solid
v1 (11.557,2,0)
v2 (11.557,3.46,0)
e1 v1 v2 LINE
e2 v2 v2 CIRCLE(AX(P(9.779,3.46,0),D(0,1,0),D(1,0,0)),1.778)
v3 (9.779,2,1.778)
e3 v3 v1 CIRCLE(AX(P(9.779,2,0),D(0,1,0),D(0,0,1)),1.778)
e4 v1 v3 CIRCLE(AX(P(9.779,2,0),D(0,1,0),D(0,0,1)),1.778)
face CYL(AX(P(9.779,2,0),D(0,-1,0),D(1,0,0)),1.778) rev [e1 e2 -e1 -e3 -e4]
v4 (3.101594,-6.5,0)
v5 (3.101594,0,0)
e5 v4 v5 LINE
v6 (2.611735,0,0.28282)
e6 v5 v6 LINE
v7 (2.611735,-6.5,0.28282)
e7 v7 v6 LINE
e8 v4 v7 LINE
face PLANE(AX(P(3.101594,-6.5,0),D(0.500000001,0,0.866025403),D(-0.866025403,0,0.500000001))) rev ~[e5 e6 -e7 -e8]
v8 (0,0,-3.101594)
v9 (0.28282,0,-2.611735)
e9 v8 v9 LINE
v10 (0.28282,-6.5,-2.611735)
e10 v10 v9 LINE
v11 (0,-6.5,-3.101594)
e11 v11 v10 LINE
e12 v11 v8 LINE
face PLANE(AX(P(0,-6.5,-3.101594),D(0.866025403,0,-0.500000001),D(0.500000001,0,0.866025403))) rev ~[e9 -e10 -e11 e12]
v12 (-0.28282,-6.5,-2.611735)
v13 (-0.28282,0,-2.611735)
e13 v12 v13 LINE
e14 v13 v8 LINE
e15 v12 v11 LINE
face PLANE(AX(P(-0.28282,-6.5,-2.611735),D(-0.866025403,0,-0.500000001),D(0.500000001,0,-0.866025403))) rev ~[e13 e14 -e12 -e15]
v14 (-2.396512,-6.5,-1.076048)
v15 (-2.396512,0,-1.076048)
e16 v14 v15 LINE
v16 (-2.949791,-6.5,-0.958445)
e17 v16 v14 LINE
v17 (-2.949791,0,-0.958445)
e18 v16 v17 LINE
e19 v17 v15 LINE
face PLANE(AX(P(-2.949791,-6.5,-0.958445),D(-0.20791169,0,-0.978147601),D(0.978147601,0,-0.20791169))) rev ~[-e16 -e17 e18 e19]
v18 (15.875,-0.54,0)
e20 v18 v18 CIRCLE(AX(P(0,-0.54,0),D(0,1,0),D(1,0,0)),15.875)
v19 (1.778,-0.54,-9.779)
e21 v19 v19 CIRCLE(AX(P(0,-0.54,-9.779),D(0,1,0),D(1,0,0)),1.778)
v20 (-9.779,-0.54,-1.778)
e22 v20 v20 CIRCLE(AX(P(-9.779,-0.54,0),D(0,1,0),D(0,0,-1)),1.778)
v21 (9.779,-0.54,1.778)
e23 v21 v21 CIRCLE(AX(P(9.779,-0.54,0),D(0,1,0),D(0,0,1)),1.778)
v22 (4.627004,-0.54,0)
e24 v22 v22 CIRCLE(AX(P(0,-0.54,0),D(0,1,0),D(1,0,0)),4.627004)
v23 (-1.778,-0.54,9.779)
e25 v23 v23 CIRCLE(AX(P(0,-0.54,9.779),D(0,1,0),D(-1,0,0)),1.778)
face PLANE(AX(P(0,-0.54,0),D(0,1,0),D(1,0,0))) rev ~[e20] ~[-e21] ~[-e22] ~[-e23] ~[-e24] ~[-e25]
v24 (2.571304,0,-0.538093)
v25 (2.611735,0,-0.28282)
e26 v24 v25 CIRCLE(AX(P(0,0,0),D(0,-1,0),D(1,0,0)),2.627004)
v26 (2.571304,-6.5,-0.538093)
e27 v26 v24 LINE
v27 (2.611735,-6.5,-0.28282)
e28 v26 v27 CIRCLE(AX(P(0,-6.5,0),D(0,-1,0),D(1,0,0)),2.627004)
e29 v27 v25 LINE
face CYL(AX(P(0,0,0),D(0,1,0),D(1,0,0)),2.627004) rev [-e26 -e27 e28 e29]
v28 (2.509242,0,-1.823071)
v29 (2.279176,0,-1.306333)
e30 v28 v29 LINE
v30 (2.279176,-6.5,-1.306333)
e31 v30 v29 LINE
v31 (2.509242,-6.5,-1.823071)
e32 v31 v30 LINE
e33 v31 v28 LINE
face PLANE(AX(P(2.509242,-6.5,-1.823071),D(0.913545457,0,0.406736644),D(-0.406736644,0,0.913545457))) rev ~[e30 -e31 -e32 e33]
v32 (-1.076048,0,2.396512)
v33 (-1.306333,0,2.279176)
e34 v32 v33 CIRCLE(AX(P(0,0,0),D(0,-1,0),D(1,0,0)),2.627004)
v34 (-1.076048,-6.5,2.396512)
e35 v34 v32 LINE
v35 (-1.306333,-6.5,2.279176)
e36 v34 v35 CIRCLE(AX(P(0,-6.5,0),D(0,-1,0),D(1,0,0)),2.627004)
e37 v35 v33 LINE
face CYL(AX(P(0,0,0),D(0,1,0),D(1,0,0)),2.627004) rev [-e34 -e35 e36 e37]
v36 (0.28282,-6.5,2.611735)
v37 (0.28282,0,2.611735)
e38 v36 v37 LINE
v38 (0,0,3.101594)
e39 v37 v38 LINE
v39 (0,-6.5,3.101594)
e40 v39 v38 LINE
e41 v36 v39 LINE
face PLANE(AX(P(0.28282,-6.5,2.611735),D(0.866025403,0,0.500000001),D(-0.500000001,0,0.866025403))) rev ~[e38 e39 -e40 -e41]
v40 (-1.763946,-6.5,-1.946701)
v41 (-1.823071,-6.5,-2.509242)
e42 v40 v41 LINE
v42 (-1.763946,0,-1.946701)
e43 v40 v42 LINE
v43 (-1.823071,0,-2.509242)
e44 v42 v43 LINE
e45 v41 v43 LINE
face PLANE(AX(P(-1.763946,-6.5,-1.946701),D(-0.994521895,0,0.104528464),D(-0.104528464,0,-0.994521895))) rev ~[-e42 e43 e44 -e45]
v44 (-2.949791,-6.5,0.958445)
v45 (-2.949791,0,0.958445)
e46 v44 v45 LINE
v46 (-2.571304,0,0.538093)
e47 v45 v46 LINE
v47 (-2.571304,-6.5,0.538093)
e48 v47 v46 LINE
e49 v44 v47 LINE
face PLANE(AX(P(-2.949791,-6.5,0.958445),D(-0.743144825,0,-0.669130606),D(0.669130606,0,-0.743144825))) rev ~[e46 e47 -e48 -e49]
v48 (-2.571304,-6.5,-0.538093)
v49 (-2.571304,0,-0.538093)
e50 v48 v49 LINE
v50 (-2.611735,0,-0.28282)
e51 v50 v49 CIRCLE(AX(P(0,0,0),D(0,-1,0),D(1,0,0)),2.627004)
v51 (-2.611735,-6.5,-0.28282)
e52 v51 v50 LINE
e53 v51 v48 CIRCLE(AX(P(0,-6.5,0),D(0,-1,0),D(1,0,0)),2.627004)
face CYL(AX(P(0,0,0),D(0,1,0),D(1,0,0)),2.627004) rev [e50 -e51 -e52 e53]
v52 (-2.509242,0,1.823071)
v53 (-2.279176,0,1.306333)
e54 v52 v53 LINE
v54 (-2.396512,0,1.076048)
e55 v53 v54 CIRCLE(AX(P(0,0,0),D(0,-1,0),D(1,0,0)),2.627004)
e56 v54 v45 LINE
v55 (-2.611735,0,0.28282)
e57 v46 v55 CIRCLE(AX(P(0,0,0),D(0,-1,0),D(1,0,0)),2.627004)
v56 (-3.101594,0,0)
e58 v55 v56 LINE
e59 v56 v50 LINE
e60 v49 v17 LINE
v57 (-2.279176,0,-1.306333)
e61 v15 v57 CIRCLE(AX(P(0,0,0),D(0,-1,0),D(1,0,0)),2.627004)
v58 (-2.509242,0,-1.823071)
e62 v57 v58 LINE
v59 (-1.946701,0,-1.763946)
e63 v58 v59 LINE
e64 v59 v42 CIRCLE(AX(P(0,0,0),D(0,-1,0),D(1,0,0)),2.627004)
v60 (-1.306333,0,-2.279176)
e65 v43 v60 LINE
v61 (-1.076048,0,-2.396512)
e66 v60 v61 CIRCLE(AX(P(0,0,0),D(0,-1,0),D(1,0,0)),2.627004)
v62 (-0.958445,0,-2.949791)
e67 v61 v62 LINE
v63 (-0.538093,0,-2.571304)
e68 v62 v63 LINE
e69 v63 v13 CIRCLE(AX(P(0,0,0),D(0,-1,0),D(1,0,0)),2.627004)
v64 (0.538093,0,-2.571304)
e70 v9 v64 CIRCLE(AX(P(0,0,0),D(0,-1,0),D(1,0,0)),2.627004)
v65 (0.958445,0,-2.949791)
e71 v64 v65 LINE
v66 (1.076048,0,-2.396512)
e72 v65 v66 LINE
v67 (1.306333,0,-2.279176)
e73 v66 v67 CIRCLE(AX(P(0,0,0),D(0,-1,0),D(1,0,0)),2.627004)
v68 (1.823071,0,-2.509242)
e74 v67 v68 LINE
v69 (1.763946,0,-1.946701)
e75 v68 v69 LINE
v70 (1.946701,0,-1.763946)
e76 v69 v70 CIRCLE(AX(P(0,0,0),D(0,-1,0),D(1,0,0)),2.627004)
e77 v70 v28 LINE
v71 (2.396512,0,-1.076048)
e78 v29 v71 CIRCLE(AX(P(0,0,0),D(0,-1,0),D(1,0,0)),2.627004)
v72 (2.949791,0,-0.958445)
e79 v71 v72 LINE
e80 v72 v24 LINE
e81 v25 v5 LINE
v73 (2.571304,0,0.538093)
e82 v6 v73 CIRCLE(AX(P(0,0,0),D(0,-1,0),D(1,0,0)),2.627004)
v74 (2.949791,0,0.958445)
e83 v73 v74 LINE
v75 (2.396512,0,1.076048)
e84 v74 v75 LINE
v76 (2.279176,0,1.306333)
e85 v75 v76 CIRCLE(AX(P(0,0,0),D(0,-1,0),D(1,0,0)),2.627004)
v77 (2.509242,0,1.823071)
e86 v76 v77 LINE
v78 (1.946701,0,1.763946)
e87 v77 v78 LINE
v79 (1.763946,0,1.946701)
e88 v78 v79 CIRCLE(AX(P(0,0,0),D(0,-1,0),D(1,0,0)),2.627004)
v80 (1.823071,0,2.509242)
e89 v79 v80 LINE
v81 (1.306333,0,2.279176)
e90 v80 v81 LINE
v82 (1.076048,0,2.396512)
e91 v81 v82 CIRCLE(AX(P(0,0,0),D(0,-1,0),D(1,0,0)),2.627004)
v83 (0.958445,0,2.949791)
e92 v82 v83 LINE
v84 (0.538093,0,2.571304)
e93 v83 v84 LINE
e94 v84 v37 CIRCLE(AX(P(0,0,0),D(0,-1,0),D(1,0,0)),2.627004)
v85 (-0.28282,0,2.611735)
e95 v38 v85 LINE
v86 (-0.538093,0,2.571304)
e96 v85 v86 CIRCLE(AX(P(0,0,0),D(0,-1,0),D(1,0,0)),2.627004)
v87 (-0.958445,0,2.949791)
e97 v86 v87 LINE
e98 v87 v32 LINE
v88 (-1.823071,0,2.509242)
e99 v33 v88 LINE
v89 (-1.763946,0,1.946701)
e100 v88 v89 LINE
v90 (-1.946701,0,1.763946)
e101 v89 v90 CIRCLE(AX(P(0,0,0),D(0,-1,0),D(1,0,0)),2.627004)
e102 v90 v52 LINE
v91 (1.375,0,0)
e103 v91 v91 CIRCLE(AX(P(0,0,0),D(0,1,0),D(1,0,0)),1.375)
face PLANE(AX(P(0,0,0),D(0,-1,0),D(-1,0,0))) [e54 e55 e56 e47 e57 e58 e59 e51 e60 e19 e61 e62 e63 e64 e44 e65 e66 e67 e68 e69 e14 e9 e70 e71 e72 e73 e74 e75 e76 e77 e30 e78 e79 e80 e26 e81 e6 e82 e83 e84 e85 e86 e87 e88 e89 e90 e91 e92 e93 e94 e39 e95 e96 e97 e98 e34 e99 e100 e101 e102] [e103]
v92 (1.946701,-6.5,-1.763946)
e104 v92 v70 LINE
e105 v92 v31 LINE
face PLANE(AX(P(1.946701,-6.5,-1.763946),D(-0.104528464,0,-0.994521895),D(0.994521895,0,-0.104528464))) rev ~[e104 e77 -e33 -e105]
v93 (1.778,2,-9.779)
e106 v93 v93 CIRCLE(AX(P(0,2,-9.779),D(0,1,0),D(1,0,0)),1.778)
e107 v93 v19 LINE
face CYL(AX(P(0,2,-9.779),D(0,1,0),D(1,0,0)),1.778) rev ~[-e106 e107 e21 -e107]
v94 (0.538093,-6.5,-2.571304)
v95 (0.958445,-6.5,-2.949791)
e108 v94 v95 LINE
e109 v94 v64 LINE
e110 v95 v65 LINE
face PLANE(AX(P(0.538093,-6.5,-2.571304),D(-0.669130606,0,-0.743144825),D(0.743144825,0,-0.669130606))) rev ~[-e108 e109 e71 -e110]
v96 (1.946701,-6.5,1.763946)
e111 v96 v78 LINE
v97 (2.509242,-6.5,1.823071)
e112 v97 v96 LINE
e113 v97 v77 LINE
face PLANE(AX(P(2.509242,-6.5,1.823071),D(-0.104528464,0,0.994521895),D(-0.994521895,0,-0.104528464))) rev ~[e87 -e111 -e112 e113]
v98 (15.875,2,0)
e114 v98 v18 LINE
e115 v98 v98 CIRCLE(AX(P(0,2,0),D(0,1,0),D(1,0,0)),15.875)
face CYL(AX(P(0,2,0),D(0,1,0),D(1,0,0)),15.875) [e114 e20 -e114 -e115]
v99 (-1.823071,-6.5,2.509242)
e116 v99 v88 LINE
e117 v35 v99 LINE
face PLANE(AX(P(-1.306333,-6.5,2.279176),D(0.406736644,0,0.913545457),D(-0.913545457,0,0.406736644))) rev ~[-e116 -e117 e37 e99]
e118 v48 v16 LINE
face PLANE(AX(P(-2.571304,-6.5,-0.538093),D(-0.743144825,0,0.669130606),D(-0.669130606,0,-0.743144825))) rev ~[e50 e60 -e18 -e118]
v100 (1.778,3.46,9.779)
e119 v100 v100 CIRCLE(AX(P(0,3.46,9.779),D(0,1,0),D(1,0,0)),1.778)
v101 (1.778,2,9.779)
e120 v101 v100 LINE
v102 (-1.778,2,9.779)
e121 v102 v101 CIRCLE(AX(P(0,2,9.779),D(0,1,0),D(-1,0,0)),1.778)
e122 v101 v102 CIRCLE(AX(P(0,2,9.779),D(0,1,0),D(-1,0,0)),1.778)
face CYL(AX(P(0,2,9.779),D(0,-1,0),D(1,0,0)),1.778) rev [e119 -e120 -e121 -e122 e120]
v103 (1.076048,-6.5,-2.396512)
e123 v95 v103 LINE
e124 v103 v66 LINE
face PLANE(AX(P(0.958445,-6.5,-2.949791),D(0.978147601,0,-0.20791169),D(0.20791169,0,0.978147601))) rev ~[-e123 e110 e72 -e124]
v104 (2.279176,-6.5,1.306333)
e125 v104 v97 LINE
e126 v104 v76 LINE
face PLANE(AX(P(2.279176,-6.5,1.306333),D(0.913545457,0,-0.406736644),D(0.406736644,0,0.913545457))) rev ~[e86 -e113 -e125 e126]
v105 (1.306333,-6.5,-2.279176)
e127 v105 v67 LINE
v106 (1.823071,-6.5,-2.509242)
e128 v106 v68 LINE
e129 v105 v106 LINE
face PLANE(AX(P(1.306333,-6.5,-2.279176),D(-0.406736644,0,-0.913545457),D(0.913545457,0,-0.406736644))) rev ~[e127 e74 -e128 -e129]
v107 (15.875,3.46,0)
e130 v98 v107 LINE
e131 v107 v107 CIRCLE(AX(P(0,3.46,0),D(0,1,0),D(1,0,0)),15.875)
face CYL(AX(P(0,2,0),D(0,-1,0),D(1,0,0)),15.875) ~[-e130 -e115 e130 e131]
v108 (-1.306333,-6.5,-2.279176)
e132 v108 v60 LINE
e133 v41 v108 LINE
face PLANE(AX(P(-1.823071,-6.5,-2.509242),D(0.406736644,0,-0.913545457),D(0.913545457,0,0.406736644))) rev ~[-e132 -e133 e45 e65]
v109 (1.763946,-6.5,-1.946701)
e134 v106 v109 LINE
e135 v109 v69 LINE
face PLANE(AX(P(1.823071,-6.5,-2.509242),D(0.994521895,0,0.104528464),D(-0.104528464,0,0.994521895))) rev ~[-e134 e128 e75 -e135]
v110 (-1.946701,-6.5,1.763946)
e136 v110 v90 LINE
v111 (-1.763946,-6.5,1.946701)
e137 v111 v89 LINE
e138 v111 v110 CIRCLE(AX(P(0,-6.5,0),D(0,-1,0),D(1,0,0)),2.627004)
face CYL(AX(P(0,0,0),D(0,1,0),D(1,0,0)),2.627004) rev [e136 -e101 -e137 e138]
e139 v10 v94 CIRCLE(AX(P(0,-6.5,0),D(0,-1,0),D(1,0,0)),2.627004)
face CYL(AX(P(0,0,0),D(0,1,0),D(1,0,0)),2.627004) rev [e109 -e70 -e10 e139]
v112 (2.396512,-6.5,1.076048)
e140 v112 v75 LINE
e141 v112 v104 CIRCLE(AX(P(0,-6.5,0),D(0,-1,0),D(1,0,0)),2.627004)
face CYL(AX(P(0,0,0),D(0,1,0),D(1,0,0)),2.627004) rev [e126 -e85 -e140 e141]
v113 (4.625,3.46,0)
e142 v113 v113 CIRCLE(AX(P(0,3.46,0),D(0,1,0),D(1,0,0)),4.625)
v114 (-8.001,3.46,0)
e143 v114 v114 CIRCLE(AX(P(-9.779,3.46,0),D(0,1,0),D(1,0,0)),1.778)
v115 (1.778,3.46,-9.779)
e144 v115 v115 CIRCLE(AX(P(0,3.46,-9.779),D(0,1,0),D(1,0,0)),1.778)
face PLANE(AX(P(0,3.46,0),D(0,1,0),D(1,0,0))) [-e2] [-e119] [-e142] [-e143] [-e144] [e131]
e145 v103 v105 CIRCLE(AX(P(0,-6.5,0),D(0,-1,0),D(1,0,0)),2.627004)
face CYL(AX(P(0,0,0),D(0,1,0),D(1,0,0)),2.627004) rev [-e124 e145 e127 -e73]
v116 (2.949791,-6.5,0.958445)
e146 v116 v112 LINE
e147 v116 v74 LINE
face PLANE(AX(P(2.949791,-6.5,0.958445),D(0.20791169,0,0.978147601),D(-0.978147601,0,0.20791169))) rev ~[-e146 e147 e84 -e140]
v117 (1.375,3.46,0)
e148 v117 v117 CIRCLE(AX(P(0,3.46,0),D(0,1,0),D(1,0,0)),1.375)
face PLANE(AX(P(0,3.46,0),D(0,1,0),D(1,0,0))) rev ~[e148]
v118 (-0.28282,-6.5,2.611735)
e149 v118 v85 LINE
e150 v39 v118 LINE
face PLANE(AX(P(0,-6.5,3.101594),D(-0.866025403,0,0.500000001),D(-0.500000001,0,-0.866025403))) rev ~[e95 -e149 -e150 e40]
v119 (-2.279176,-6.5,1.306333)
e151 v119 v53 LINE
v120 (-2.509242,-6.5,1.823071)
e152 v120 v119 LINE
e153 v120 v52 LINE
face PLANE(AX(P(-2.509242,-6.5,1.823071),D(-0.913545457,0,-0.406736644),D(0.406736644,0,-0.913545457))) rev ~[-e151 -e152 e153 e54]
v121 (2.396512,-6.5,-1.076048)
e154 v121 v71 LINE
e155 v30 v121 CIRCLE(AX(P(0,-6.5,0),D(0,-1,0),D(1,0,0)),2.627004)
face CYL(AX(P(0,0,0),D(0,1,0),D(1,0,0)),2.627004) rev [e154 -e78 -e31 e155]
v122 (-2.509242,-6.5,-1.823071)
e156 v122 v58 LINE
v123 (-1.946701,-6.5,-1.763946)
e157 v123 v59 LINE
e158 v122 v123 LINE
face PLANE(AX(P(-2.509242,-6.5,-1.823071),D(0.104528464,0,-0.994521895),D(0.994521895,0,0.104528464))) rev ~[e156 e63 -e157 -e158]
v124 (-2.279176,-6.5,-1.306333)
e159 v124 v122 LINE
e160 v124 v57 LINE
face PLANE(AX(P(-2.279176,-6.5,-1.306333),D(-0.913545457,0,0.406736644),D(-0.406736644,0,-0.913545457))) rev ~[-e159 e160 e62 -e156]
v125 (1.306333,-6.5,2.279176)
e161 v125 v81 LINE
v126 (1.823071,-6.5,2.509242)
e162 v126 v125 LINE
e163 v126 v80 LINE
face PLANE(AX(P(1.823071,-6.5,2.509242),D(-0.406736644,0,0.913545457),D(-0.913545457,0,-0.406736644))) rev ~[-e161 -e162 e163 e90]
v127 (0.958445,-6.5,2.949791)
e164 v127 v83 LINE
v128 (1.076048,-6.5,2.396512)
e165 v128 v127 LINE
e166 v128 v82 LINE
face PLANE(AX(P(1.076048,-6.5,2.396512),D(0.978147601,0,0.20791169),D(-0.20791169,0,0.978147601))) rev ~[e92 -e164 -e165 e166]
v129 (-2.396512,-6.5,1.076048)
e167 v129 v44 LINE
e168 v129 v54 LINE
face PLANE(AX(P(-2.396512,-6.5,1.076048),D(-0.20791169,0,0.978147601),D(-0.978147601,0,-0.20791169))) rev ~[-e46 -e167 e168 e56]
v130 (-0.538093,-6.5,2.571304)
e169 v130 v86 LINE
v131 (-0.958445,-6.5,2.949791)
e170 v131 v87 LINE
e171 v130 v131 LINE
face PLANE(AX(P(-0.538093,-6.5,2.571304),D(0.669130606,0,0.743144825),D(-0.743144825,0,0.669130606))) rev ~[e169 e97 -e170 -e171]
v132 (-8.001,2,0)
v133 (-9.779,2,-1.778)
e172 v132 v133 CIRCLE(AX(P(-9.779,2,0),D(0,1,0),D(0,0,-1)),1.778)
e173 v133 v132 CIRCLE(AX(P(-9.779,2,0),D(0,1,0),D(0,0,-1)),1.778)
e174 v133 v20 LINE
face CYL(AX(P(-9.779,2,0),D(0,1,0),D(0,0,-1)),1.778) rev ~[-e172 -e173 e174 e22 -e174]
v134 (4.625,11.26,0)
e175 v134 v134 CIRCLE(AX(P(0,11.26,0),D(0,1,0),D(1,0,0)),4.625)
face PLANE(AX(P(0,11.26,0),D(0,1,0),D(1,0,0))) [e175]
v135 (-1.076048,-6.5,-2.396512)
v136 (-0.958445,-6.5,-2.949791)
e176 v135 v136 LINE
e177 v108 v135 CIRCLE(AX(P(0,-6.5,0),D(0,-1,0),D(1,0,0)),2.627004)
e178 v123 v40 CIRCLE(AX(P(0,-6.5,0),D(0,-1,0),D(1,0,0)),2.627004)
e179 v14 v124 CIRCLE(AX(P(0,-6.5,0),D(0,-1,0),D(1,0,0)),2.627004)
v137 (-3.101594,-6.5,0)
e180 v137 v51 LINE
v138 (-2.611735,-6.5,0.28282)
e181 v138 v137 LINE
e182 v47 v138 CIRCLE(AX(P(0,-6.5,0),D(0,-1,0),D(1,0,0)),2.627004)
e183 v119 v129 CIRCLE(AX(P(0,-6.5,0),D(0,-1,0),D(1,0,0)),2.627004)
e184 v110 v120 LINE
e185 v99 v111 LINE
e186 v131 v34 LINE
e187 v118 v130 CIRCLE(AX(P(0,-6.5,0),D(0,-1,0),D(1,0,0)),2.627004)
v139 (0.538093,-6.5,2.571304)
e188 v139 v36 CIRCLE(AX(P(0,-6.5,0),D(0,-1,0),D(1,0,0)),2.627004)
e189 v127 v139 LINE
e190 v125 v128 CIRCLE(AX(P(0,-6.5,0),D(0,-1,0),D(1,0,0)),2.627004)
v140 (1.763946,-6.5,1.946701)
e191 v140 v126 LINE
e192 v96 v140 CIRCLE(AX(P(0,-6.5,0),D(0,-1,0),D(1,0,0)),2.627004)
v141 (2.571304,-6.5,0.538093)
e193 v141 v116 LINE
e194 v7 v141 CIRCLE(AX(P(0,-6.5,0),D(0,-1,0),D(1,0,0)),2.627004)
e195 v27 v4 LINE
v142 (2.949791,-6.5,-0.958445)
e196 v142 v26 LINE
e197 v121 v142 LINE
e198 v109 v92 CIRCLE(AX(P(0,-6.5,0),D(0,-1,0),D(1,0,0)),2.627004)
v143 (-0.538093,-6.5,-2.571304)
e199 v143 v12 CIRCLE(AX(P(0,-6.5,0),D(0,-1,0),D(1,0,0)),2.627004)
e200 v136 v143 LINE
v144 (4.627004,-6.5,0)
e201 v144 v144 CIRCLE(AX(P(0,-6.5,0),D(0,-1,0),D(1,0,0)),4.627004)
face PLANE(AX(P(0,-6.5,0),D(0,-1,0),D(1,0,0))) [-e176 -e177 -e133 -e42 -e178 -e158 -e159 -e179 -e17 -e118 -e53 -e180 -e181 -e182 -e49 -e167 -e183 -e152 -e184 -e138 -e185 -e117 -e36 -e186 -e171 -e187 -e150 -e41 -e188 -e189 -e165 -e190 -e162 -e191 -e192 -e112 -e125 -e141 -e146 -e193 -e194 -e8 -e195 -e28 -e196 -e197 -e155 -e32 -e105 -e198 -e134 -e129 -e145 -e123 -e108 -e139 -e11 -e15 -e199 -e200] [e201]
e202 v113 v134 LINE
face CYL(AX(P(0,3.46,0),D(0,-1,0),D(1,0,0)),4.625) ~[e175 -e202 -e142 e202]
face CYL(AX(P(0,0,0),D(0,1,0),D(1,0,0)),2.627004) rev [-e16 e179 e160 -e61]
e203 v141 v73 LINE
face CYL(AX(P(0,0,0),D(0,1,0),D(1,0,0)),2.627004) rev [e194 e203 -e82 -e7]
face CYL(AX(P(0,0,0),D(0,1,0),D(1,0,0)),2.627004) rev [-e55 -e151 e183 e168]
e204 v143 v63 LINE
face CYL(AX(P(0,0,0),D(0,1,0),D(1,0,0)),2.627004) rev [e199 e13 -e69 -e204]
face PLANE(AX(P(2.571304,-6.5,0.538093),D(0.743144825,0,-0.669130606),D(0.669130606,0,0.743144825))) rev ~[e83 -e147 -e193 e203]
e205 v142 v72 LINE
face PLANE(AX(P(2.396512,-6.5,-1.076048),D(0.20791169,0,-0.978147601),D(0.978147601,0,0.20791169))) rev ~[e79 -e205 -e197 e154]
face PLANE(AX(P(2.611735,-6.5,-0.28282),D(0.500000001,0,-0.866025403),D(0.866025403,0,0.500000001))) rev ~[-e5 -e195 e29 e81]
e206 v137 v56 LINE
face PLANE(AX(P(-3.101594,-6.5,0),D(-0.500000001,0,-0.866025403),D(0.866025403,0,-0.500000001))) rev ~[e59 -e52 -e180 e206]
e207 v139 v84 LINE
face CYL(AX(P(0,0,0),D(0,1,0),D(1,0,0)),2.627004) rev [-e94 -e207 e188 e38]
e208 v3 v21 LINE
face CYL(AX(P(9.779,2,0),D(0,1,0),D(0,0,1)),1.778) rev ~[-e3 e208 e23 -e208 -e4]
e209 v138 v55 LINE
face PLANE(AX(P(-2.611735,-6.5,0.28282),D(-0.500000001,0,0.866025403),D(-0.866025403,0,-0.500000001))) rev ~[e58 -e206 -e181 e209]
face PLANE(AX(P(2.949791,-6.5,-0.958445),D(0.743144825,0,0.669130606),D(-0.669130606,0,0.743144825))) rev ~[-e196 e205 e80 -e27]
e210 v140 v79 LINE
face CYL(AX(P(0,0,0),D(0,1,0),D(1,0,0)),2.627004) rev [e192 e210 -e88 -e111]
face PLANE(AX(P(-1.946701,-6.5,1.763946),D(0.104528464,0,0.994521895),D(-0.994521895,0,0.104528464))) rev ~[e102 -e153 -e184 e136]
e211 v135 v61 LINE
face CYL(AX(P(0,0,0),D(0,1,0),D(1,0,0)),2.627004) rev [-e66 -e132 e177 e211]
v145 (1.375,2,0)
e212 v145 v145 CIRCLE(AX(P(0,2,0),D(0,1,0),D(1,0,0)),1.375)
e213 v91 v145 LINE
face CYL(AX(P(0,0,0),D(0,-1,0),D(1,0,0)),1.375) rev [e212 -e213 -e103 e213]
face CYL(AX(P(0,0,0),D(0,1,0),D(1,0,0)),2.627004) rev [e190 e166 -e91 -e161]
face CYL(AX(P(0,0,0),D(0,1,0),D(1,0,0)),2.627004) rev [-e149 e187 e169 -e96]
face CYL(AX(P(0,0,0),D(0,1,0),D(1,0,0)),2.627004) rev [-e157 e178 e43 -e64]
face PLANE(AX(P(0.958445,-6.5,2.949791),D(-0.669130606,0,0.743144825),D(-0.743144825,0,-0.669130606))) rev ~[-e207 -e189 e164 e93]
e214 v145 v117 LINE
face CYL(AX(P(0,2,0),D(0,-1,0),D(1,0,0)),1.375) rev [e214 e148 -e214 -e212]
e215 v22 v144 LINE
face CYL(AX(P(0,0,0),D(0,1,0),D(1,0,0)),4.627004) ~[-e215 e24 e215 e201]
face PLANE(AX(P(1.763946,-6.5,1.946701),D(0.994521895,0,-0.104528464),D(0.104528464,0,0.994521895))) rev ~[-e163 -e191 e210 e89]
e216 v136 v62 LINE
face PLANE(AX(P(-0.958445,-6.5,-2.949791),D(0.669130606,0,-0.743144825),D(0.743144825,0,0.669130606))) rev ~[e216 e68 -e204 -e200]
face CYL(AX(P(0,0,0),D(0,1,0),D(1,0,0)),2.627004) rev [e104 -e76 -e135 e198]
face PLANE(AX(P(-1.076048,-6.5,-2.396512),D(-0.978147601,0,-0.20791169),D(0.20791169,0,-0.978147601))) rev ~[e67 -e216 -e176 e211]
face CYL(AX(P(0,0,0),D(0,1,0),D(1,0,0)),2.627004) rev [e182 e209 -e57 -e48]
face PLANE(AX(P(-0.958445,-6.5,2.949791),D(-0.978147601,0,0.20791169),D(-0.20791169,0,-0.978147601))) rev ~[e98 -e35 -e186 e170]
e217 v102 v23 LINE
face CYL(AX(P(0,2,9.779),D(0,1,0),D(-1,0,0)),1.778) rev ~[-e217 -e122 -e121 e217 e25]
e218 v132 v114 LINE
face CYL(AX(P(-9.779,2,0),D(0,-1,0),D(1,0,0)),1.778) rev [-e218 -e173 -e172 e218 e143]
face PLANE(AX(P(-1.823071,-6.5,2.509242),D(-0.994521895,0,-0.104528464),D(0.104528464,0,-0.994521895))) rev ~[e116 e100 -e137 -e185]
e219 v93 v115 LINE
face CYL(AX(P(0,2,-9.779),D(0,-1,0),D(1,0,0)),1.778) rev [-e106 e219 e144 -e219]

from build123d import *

# Parameters (mm, degrees)
SKETCH1_R           = 0.5
SKETCH1_R_2         = 1.375
BOSS_EXTRUDE1_DEPTH = 2
SKETCH4_R           = 4.6270037
SKETCH4_R_2         = 2.6270037
BOSS_EXTRUDE3_DEPTH = 6.5
CUT_EXTRUDE3_DEPTH  = 6.5
SKETCH6_R           = 15.875
SKETCH6_R_2         = 3.75
BOSS_EXTRUDE6_DEPTH = 2.54
SKETCH7_R           = 1.778
CUT_EXTRUDE4_DEPTH  = 2.54
CIRPATTERN1_COUNT   = 4
ESQUISSE1_R         = 15.875
ESQUISSE1_R_2       = 1.375
ESQUISSE1_R_3       = 1.778
BOSS_EXTRU_1_DEPTH  = 1.46
ESQUISSE2_R         = 4.625
BOSS_EXTRU_2_DEPTH  = 7.8


with BuildPart() as part:
    # Sketch1 → Boss-Extrude1 (new body)
    with BuildSketch(Plane(origin=(0, 0, 0), x_dir=(1, 0, 0), z_dir=(0, 1, 0))):
        with BuildLine():
            Line((-4, 4), (-2.467435953, 13.402193757))
            ThreePointArc((-2.467435953, 13.402193757), (0, 15.5), (2.467435953, 13.402193757))
            Line((2.467435953, 13.402193757), (4, 4))
            Line((4, 4), (12.448472752, 2.459445505))
            ThreePointArc((12.448472752, 2.459445505), (14.5, 0), (12.448472752, -2.459445505))
            Line((12.448472752, -2.459445505), (4, -4))
            Line((4, -4), (2.467435953, -13.402193757))
            ThreePointArc((2.467435953, -13.402193757), (0, -15.5), (-2.467435953, -13.402193757))
            Line((-2.467435953, -13.402193757), (-4, -4))
            Line((-4, -4), (-12.448472752, -2.459445505))
            ThreePointArc((-12.448472752, -2.459445505), (-14.5, 0), (-12.448472752, 2.459445505))
            Line((-12.448472752, 2.459445505), (-4, 4))
        make_face()
        with Locations((0, 12)):
            Circle(SKETCH1_R, mode=Mode.SUBTRACT)
        with Locations((0, 9.5)):
            Circle(SKETCH1_R, mode=Mode.SUBTRACT)
        with Locations((0, 7.5)):
            Circle(SKETCH1_R, mode=Mode.SUBTRACT)
        with Locations((12, 0)):
            Circle(SKETCH1_R, mode=Mode.SUBTRACT)
        with Locations((9.5, 0)):
            Circle(SKETCH1_R, mode=Mode.SUBTRACT)
        with Locations((7.5, 0)):
            Circle(SKETCH1_R, mode=Mode.SUBTRACT)
        with Locations((0, -12)):
            Circle(SKETCH1_R, mode=Mode.SUBTRACT)
        with Locations((0, -9.5)):
            Circle(SKETCH1_R, mode=Mode.SUBTRACT)
        with Locations((0, -7.5)):
            Circle(SKETCH1_R, mode=Mode.SUBTRACT)
        with Locations((-12, 0)):
            Circle(SKETCH1_R, mode=Mode.SUBTRACT)
        with Locations((-9.5, 0)):
            Circle(SKETCH1_R, mode=Mode.SUBTRACT)
        with Locations((-7.5, 0)):
            Circle(SKETCH1_R, mode=Mode.SUBTRACT)
        Circle(SKETCH1_R_2, mode=Mode.SUBTRACT)
    extrude(amount=BOSS_EXTRUDE1_DEPTH)

    # Sketch4 → Boss-Extrude3 (add)
    with BuildSketch(Plane.XZ):
        Circle(SKETCH4_R)
        Circle(SKETCH4_R_2, mode=Mode.SUBTRACT)
    extrude(amount=BOSS_EXTRUDE3_DEPTH)

    # Sketch5 → Cut-Extrude3 (cut)
    with BuildSketch(Plane.XZ.offset(6.5)):
        with BuildLine():
            Line((0.282820055, 2.611735296), (0, 3.101594))
            Line((0, 3.101594), (-0.282820055, 2.611735296))
            ThreePointArc((-0.282820055, 2.611735296), (0, 2.6270037), (0.282820055, 2.611735296))
        make_face()
        with BuildLine():
            ThreePointArc((-1.076048447, 2.396511669), (-0.811788788, 2.498428987), (-0.538092735, 2.571304075))
            Line((-0.538092735, 2.571304075), (-0.958445256, 2.949791185))
            Line((-0.958445256, 2.949791185), (-1.076048447, 2.396511669))
        make_face()
        with BuildLine():
            Line((0.958445256, 2.949791185), (0.538092735, 2.571304075))
            ThreePointArc((0.538092735, 2.571304075), (0.811788788, 2.498428987), (1.076048447, 2.396511669))
            Line((1.076048447, 2.396511669), (0.958445256, 2.949791185))
        make_face()
        with BuildLine():
            ThreePointArc((-1.76394572, 1.946700782), (-1.544114033, 2.125290638), (-1.306333259, 2.279175696))
            Line((-1.306333259, 2.279175696), (-1.823071212, 2.509242256))
            Line((-1.823071212, 2.509242256), (-1.76394572, 1.946700782))
        make_face()
        with BuildLine():
            Line((1.823071212, 2.509242256), (1.306333259, 2.279175696))
            ThreePointArc((1.306333259, 2.279175696), (1.544114033, 2.125290638), (1.76394572, 1.946700782))
            Line((1.76394572, 1.946700782), (1.823071212, 2.509242256))
        make_face()
        with BuildLine():
            ThreePointArc((-2.279175696, 1.306333259), (-2.125290638, 1.544114033), (-1.946700782, 1.76394572))
            Line((-1.946700782, 1.76394572), (-2.509242256, 1.823071212))
            Line((-2.509242256, 1.823071212), (-2.279175696, 1.306333259))
        make_face()
        with BuildLine():
            Line((2.509242256, 1.823071212), (1.946700782, 1.76394572))
            ThreePointArc((1.946700782, 1.76394572), (2.125290638, 1.544114033), (2.279175696, 1.306333259))
            Line((2.279175696, 1.306333259), (2.509242256, 1.823071212))
        make_face()
        with BuildLine():
            ThreePointArc((-2.571304075, 0.538092735), (-2.498428987, 0.811788788), (-2.396511669, 1.076048447))
            Line((-2.396511669, 1.076048447), (-2.949791185, 0.958445256))
            Line((-2.949791185, 0.958445256), (-2.571304075, 0.538092735))
        make_face()
        with BuildLine():
            Line((2.949791185, 0.958445256), (2.396511669, 1.076048447))
            ThreePointArc((2.396511669, 1.076048447), (2.498428987, 0.811788788), (2.571304075, 0.538092735))
            Line((2.571304075, 0.538092735), (2.949791185, 0.958445256))
        make_face()
        with BuildLine():
            ThreePointArc((-2.611735296, -0.282820055), (-2.6270037, 0), (-2.611735296, 0.282820055))
            Line((-2.611735296, 0.282820055), (-3.101594, 0))
            Line((-3.101594, 0), (-2.611735296, -0.282820055))
        make_face()
        with BuildLine():
            Line((3.101594, 0), (2.611735296, 0.282820055))
            ThreePointArc((2.611735296, 0.282820055), (2.6270037, 0), (2.611735296, -0.282820055))
            Line((2.611735296, -0.282820055), (3.101594, 0))
        make_face()
        with BuildLine():
            ThreePointArc((-2.396511669, -1.076048447), (-2.498428987, -0.811788788), (-2.571304075, -0.538092735))
            Line((-2.571304075, -0.538092735), (-2.949791185, -0.958445256))
            Line((-2.949791185, -0.958445256), (-2.396511669, -1.076048447))
        make_face()
        with BuildLine():
            Line((2.949791185, -0.958445256), (2.571304075, -0.538092735))
            ThreePointArc((2.571304075, -0.538092735), (2.498428987, -0.811788788), (2.396511669, -1.076048447))
            Line((2.396511669, -1.076048447), (2.949791185, -0.958445256))
        make_face()
        with BuildLine():
            ThreePointArc((-1.946700782, -1.76394572), (-2.125290638, -1.544114033), (-2.279175696, -1.306333259))
            Line((-2.279175696, -1.306333259), (-2.509242256, -1.823071212))
            Line((-2.509242256, -1.823071212), (-1.946700782, -1.76394572))
        make_face()
        with BuildLine():
            Line((2.509242256, -1.823071212), (2.279175696, -1.306333259))
            ThreePointArc((2.279175696, -1.306333259), (2.125290638, -1.544114033), (1.946700782, -1.76394572))
            Line((1.946700782, -1.76394572), (2.509242256, -1.823071212))
        make_face()
        with BuildLine():
            ThreePointArc((-1.306333259, -2.279175696), (-1.544114033, -2.125290638), (-1.76394572, -1.946700782))
            Line((-1.76394572, -1.946700782), (-1.823071212, -2.509242256))
            Line((-1.823071212, -2.509242256), (-1.306333259, -2.279175696))
        make_face()
        with BuildLine():
            Line((1.823071212, -2.509242256), (1.76394572, -1.946700782))
            ThreePointArc((1.76394572, -1.946700782), (1.544114033, -2.125290638), (1.306333259, -2.279175696))
            Line((1.306333259, -2.279175696), (1.823071212, -2.509242256))
        make_face()
        with BuildLine():
            ThreePointArc((-0.538092735, -2.571304075), (-0.811788788, -2.498428987), (-1.076048447, -2.396511669))
            Line((-1.076048447, -2.396511669), (-0.958445256, -2.949791185))
            Line((-0.958445256, -2.949791185), (-0.538092735, -2.571304075))
        make_face()
        with BuildLine():
            Line((0.958445256, -2.949791185), (1.076048447, -2.396511669))
            ThreePointArc((1.076048447, -2.396511669), (0.811788788, -2.498428987), (0.538092735, -2.571304075))
            Line((0.538092735, -2.571304075), (0.958445256, -2.949791185))
        make_face()
        with BuildLine():
            ThreePointArc((0.282820055, -2.611735296), (0, -2.6270037), (-0.282820055, -2.611735296))
            Line((-0.282820055, -2.611735296), (0, -3.101594))
            Line((0, -3.101594), (0.282820055, -2.611735296))
        make_face()
    extrude(amount=-CUT_EXTRUDE3_DEPTH, mode=Mode.SUBTRACT)

    # Sketch6 → Boss-Extrude6 (add)
    with BuildSketch(Plane(origin=(0, 2, 0), x_dir=(1, 0, 0), z_dir=(0, 1, 0))):
        Circle(SKETCH6_R)
        Circle(SKETCH6_R_2, mode=Mode.SUBTRACT)
    extrude(amount=-BOSS_EXTRUDE6_DEPTH)

    # Sketch7 → Cut-Extrude4 (cut)
    with BuildSketch(Plane(origin=(0, 2, 0), x_dir=(1, 0, 0), z_dir=(0, 1, 0))):
        with Locations((0, 9.779)):
            Circle(SKETCH7_R)
    cut_extrude4 = extrude(amount=-CUT_EXTRUDE4_DEPTH, mode=Mode.SUBTRACT)

    # CirPattern1: Cut-Extrude4 ×4 about axis
    cirpattern1_axis = Axis((0, 0, 0), (0, 1, 0))
    for i in range(1, CIRPATTERN1_COUNT):
        add(cut_extrude4.rotate(cirpattern1_axis, i * 360 / CIRPATTERN1_COUNT), mode=Mode.SUBTRACT)

    # Esquisse1 → Boss.-Extru.1 (add)
    with BuildSketch(Plane(origin=(0, 2, 0), x_dir=(1, 0, 0), z_dir=(0, 1, 0))):
        Circle(ESQUISSE1_R)
        Circle(ESQUISSE1_R_2, mode=Mode.SUBTRACT)
        with Locations((0, 9.779)):
            Circle(ESQUISSE1_R_3, mode=Mode.SUBTRACT)
        with Locations((9.779, 0)):
            Circle(ESQUISSE1_R_3, mode=Mode.SUBTRACT)
        with Locations((0, -9.779)):
            Circle(ESQUISSE1_R_3, mode=Mode.SUBTRACT)
        with Locations((-9.779, 0)):
            Circle(ESQUISSE1_R_3, mode=Mode.SUBTRACT)
    extrude(amount=BOSS_EXTRU_1_DEPTH)

    # Esquisse2 → Boss.-Extru.2 (add)
    with BuildSketch(Plane(origin=(0, 3.46, 0), x_dir=(1, 0, 0), z_dir=(0, 1, 0))):
        Circle(ESQUISSE2_R)
    extrude(amount=BOSS_EXTRU_2_DEPTH)


solid = part.part
